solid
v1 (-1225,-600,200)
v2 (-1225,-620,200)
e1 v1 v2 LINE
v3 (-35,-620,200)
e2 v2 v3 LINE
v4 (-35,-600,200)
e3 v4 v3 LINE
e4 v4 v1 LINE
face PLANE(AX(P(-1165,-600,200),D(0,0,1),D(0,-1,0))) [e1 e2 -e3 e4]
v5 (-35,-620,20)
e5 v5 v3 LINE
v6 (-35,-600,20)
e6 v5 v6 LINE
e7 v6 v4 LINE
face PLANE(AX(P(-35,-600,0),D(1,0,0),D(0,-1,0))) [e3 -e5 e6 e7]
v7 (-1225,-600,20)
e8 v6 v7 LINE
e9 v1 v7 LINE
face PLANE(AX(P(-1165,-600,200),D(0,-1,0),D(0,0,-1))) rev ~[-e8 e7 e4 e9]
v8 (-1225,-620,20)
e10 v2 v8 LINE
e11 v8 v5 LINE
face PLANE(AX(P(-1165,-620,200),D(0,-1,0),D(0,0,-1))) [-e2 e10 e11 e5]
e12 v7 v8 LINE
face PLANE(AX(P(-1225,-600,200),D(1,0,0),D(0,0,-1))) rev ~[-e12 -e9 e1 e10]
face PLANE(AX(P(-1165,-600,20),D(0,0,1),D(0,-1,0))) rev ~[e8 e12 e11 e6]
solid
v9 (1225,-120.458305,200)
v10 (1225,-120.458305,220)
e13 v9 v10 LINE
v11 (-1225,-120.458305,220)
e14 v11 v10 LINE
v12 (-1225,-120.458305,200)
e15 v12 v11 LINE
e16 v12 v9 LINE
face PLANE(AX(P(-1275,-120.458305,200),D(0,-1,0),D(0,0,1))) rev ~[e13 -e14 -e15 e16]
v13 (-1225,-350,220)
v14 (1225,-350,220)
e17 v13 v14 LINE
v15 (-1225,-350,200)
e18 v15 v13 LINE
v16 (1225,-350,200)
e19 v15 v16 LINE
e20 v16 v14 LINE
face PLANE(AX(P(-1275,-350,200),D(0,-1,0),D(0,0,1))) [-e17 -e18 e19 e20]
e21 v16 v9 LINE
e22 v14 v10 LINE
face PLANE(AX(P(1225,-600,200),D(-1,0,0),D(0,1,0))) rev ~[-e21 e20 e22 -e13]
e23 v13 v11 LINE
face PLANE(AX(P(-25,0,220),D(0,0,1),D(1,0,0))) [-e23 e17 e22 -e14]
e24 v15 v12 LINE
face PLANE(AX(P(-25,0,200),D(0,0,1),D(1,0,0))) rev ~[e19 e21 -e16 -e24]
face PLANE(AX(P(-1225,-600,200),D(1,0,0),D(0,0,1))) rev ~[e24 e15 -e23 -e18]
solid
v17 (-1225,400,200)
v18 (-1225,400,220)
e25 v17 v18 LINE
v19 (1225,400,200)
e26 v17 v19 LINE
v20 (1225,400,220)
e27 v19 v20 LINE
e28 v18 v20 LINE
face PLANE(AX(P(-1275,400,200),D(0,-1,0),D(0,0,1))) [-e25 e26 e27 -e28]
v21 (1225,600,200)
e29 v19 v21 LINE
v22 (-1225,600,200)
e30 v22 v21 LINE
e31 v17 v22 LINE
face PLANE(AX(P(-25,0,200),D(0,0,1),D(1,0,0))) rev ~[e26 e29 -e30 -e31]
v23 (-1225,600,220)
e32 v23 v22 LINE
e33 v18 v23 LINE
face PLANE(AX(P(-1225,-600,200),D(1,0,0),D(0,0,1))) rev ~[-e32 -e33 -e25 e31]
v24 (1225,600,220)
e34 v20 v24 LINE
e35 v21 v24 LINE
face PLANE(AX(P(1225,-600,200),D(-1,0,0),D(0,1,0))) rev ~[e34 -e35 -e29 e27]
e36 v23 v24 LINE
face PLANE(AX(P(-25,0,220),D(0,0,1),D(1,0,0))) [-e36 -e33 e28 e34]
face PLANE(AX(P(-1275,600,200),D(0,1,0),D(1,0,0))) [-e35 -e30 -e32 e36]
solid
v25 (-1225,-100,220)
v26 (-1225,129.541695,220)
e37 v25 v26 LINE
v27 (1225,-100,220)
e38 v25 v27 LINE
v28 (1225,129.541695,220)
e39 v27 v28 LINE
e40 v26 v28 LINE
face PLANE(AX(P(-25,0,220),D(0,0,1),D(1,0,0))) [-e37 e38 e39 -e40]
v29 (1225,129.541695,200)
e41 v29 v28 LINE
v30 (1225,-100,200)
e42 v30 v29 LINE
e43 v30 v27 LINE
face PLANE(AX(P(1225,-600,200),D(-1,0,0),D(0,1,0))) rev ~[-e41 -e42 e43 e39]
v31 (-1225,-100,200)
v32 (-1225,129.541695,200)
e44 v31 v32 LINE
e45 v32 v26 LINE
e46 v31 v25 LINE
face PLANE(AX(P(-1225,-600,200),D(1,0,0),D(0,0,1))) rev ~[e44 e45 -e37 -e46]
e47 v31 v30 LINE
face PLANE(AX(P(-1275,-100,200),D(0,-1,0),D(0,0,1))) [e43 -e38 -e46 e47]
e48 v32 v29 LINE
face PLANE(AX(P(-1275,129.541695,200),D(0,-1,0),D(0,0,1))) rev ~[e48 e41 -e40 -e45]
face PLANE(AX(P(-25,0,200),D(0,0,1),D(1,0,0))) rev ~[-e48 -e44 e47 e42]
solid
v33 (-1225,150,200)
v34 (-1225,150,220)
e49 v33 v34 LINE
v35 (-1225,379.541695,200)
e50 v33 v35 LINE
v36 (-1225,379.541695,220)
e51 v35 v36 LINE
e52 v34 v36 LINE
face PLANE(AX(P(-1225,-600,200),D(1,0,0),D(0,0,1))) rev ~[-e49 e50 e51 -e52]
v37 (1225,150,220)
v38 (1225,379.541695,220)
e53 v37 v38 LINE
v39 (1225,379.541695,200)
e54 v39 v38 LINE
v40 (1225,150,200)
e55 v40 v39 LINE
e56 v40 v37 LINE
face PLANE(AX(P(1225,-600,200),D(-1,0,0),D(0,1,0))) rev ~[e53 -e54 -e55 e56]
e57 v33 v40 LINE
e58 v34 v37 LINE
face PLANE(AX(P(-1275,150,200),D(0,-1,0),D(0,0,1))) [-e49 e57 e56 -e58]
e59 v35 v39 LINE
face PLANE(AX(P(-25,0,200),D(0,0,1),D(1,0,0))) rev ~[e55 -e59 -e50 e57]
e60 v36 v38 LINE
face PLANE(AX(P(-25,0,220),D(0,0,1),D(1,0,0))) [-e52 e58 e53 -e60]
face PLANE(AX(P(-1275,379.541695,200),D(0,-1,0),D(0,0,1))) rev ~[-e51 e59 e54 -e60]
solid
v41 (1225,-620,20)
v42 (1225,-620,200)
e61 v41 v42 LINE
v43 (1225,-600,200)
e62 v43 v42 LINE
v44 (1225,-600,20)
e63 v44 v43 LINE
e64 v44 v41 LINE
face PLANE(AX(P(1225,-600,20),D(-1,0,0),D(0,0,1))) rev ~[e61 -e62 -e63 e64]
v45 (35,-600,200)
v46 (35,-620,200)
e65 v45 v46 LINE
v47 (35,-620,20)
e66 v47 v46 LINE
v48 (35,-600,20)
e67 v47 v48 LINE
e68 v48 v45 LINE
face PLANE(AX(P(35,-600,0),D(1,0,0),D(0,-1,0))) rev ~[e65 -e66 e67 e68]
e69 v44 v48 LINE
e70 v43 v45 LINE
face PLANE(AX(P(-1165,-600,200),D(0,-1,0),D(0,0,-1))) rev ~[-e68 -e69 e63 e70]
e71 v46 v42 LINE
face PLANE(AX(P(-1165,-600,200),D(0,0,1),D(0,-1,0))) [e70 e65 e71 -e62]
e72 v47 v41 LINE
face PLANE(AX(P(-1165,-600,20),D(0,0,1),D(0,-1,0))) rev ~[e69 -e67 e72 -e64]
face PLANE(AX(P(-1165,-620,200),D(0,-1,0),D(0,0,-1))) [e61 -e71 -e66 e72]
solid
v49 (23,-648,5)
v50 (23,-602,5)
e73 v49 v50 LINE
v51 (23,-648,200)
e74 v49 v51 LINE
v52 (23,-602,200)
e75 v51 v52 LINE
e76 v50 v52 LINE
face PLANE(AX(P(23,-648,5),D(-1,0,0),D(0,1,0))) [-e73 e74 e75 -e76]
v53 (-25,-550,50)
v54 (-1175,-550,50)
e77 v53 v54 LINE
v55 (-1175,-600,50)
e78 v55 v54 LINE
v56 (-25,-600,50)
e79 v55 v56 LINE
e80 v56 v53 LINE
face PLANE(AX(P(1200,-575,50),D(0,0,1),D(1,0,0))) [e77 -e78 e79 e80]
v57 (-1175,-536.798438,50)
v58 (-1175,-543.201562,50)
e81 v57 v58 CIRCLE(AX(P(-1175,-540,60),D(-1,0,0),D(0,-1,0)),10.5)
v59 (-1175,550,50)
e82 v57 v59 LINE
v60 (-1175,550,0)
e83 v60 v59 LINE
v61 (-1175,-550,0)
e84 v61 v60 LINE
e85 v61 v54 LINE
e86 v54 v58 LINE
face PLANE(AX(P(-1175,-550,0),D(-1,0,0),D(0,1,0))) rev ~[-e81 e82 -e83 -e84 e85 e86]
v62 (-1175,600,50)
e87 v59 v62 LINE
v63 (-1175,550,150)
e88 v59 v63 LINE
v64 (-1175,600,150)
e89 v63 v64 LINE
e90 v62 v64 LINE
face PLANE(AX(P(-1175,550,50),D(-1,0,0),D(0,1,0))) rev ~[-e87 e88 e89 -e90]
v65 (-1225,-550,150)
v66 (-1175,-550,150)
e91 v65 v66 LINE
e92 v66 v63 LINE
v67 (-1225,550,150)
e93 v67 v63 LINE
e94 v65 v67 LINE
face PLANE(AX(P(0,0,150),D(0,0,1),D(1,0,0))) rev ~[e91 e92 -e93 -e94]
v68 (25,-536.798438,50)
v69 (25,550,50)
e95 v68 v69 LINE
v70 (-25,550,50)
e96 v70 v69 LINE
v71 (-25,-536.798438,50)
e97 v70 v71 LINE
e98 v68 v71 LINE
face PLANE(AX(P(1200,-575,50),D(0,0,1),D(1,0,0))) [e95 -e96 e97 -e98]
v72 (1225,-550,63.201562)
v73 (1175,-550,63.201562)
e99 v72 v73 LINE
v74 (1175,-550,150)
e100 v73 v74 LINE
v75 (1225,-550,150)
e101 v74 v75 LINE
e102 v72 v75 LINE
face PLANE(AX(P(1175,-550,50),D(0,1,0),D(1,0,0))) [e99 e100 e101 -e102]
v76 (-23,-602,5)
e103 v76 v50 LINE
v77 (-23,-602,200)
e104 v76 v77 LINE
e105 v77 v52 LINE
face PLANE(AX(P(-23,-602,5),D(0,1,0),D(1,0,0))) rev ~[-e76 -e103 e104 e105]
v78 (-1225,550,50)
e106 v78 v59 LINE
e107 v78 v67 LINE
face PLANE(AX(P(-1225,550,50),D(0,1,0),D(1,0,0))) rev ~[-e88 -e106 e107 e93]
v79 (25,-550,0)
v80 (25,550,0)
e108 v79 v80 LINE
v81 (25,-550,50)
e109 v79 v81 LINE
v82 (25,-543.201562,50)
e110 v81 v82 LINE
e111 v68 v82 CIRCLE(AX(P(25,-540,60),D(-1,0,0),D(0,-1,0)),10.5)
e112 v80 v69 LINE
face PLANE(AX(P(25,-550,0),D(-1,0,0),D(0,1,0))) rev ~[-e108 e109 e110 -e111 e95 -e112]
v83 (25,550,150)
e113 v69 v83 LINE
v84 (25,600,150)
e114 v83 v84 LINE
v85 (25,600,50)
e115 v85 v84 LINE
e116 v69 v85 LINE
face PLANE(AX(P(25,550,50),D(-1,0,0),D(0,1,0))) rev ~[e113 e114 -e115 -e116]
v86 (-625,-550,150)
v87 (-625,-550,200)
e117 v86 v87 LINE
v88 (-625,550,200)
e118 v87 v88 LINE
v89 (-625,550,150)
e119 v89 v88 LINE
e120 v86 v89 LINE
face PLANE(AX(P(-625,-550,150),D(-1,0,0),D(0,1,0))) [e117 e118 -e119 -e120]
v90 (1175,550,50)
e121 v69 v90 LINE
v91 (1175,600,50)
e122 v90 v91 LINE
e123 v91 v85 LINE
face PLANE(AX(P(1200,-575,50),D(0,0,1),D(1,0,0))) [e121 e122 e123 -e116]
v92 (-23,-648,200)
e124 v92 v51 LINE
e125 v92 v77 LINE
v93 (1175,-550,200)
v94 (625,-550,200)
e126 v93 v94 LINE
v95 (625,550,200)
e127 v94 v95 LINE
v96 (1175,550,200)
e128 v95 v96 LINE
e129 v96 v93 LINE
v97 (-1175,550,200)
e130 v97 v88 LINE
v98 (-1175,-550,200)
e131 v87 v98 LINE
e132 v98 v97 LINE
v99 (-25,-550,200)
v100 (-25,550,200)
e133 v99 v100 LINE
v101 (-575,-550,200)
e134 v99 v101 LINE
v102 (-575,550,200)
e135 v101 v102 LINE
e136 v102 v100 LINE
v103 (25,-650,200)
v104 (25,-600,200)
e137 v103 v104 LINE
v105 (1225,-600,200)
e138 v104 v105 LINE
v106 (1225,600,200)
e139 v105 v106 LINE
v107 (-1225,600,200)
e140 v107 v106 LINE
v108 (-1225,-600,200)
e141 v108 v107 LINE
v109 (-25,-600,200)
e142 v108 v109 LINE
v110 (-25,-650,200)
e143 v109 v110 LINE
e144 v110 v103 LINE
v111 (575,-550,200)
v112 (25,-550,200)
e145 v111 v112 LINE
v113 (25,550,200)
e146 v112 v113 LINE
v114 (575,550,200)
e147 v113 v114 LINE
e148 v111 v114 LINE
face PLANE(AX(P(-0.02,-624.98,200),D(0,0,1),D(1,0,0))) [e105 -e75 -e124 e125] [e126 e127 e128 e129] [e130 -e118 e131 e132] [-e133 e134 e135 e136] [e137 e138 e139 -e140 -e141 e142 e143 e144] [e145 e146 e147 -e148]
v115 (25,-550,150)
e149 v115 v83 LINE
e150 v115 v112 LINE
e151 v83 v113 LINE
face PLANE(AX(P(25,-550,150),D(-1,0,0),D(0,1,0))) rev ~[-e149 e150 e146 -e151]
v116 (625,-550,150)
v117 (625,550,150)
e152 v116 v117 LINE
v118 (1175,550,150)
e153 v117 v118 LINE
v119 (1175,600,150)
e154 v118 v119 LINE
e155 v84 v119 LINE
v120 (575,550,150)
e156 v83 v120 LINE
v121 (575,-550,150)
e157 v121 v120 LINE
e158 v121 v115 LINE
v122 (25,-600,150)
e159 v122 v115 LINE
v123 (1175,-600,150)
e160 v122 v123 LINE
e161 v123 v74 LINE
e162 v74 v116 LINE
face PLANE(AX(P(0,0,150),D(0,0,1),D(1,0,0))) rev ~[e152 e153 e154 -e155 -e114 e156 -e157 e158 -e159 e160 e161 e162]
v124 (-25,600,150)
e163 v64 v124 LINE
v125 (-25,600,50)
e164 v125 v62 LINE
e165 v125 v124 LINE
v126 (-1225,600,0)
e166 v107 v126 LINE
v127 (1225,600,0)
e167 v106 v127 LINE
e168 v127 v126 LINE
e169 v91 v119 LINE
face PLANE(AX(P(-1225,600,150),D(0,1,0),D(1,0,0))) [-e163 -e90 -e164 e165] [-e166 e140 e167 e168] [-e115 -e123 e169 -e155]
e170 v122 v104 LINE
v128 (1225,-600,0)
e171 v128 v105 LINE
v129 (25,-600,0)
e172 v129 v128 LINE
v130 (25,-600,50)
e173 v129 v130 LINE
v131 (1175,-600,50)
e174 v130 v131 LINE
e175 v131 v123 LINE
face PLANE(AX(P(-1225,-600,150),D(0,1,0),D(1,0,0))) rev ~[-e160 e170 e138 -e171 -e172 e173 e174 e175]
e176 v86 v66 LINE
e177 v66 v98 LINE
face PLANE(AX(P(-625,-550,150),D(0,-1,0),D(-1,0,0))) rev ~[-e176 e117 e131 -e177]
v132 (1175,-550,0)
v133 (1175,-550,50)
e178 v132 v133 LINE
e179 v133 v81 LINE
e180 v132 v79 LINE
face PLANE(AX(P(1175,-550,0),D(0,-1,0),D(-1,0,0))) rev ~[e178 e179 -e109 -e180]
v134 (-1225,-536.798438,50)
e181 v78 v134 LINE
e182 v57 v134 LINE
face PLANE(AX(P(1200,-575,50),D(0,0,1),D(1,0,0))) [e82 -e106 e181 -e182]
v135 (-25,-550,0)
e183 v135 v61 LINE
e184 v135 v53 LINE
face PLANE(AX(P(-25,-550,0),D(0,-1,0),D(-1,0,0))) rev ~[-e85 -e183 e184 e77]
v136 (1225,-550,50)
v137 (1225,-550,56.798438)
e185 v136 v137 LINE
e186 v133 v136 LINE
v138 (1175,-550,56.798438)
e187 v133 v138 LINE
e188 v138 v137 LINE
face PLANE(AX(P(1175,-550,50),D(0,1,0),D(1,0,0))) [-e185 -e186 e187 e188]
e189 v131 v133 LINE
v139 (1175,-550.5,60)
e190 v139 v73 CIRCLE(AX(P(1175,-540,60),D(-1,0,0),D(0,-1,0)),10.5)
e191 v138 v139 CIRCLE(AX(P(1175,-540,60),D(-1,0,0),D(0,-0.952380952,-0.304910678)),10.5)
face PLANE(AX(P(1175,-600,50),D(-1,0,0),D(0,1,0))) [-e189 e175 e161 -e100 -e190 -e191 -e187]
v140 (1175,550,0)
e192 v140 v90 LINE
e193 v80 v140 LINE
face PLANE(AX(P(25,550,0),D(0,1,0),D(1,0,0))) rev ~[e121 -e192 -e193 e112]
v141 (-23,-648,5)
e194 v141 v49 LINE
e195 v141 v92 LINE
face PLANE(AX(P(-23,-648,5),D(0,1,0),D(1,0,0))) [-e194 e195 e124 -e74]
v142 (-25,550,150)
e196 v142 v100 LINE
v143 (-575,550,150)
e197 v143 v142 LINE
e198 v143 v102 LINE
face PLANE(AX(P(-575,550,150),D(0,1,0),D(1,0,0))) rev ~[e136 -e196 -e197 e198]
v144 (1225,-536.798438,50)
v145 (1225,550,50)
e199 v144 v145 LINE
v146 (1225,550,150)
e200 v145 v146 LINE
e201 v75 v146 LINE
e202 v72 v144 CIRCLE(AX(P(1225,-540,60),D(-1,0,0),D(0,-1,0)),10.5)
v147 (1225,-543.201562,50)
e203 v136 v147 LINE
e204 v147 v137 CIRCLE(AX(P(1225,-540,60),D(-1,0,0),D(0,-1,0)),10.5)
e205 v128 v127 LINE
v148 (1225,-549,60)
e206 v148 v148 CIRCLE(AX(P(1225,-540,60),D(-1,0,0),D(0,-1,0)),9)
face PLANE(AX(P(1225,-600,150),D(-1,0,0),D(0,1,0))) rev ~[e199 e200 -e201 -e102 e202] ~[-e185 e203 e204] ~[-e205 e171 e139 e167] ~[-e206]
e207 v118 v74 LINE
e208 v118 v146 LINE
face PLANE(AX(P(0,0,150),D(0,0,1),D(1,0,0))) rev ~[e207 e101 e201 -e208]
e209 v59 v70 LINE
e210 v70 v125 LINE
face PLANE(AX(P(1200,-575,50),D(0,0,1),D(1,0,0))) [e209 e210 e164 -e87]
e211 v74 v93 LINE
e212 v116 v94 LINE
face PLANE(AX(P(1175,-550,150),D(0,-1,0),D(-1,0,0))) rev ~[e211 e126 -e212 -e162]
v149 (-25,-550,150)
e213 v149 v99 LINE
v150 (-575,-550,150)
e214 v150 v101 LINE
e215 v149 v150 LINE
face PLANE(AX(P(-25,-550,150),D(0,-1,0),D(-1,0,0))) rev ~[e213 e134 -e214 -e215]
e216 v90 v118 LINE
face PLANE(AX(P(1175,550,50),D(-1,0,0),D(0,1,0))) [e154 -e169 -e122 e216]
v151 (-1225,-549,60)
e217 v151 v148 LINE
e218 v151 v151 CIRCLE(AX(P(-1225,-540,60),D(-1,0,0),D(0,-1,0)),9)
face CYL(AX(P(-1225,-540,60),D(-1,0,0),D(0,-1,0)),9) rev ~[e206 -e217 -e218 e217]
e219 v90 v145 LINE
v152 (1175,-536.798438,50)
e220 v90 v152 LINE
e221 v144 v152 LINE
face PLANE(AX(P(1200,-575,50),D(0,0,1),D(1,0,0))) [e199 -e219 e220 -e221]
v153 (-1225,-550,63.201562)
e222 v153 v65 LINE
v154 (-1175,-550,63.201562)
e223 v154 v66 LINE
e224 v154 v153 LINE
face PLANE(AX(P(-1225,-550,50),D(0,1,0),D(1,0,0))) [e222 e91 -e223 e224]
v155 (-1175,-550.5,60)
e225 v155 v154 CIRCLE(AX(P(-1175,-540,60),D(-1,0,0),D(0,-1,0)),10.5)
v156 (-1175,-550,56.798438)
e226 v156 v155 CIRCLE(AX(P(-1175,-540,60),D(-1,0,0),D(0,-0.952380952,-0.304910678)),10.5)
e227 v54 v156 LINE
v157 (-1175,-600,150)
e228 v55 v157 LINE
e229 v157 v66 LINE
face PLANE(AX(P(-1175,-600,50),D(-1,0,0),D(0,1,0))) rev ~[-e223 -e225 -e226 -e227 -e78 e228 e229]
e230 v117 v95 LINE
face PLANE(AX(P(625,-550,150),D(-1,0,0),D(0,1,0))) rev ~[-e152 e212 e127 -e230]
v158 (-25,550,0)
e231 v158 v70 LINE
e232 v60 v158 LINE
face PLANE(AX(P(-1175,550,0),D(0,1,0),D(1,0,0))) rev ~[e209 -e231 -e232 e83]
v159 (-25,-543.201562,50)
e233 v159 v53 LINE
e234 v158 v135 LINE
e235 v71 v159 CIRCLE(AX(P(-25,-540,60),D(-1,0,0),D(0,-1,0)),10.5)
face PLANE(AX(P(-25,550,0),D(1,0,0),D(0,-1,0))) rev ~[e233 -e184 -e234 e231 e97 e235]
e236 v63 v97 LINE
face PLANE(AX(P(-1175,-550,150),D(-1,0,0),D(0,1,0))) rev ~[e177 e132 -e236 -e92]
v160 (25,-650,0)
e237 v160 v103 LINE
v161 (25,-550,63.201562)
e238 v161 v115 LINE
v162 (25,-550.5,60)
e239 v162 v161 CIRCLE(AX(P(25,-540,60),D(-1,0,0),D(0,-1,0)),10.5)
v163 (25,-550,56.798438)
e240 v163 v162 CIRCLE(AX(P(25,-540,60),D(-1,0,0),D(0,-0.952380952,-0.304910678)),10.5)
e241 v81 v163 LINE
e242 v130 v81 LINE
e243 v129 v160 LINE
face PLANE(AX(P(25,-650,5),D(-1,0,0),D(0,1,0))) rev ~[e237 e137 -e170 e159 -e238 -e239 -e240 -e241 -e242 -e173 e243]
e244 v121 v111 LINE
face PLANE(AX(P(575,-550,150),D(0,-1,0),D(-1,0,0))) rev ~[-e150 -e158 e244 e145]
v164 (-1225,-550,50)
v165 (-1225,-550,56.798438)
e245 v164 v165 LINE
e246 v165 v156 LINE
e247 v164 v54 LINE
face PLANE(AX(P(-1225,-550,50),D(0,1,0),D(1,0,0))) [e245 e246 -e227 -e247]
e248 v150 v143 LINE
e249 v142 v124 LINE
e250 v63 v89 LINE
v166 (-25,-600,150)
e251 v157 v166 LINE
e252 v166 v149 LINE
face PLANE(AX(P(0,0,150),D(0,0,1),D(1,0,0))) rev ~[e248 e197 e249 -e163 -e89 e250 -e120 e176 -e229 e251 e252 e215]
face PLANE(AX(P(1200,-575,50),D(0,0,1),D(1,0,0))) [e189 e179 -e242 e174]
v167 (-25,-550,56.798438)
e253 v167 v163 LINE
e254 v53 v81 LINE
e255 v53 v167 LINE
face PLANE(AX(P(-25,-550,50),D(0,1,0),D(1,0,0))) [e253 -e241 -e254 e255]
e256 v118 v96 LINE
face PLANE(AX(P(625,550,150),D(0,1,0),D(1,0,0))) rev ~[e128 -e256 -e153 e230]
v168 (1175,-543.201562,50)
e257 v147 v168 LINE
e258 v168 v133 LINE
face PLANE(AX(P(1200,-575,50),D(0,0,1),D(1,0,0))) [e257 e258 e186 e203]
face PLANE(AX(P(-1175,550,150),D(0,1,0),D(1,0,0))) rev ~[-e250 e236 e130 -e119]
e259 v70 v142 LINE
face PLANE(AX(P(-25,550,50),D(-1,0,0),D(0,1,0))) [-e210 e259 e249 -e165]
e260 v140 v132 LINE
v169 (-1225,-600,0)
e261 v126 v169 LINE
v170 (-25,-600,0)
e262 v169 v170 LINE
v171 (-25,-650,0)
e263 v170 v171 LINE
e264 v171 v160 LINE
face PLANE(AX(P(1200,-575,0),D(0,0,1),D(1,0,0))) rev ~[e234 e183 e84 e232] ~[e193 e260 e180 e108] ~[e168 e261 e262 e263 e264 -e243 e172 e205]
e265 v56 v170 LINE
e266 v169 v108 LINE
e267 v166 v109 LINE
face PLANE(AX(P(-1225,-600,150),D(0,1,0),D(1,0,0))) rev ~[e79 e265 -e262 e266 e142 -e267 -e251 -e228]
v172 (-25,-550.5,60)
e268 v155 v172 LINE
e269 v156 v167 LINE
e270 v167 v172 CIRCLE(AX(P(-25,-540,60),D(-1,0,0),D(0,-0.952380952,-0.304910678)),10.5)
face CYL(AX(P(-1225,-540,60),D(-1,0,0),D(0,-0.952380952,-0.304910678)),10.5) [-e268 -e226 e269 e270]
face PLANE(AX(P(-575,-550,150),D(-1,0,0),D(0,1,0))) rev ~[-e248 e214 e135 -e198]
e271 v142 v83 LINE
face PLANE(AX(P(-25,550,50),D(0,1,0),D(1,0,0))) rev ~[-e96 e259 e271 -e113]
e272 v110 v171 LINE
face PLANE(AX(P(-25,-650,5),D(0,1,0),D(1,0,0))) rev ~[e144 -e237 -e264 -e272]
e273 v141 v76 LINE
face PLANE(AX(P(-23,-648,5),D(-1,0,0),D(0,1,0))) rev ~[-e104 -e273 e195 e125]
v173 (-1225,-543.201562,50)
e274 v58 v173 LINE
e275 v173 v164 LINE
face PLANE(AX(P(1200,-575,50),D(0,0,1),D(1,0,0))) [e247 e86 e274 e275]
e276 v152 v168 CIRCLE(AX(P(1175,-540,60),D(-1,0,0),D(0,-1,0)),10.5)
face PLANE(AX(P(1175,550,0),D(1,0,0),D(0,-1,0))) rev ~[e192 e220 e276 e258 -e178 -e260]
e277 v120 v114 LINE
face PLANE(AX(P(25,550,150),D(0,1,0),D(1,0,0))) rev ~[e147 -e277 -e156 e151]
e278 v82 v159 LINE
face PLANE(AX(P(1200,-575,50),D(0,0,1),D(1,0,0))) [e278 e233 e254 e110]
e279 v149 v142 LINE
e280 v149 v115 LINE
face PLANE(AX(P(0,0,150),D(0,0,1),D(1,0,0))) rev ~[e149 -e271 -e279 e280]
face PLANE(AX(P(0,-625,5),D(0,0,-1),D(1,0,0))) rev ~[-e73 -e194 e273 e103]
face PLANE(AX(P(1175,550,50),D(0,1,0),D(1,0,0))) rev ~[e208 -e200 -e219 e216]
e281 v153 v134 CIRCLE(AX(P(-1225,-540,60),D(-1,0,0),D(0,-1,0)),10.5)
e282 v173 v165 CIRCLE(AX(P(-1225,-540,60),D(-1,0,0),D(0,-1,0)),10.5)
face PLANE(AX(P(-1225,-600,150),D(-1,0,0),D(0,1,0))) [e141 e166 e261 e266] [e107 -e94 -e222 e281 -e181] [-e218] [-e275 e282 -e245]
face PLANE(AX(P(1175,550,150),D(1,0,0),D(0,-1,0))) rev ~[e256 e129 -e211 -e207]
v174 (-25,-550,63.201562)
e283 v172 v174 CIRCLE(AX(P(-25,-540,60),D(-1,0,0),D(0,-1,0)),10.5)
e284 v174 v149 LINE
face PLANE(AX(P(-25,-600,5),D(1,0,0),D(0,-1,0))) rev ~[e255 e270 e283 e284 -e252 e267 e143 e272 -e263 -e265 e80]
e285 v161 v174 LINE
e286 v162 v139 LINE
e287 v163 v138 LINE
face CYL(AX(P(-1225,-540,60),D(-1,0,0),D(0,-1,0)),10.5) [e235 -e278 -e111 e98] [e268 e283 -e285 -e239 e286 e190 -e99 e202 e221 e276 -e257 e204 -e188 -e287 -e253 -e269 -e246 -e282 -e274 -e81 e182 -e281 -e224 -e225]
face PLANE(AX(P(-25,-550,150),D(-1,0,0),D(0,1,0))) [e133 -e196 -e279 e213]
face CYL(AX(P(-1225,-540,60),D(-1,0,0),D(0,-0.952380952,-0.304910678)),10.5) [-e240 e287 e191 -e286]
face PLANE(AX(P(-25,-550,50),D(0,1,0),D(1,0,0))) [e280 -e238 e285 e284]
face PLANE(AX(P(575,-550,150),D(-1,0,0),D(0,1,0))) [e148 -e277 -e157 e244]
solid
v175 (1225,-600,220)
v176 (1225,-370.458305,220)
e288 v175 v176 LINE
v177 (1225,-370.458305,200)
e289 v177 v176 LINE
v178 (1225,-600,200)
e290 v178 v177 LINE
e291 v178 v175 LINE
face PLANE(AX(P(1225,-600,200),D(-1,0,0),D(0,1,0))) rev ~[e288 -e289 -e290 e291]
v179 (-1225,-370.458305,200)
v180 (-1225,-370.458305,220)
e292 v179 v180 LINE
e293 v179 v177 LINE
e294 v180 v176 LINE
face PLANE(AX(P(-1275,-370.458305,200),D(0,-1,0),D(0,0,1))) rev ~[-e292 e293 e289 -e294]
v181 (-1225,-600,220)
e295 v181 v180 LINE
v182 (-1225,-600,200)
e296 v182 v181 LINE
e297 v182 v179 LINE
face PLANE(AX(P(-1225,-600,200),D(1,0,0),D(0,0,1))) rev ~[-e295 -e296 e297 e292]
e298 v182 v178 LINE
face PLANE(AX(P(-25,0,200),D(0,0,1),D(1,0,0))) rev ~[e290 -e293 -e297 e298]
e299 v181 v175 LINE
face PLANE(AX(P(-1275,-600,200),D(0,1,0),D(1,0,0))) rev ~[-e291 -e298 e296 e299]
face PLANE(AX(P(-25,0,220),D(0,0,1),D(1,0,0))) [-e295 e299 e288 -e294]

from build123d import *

# Parameters (mm, degrees)
F0_W      = 50
F0_H      = 50
F0_H_2    = 1100
F1_DEPTH  = 50
F2_W      = 50
F2_H      = 50
F3_DEPTH  = 100
F4_W      = 2450
F4_H      = 1200
F4_W_2    = 25
F4_H_2    = 1100
F4_W_3    = 50
F5_DEPTH  = 50
F6_R      = 9
F7_DEPTH  = 2450
F9_DEPTH  = 20
F10_W     = 2500
F10_H     = 1200
F11_DEPTH = 20
F12_DEPTH = 110
F13_W     = 20.458304882
F13_H     = 20
F14_DEPTH = 2500
F15_DEPTH = 60
F17_W     = 50
F17_H     = 20
F18_DEPTH = 1200.001
F19_W     = 50
F19_H     = 50
F19_W_2   = 10
F20_DEPTH = 200
F21_W     = 50
F21_H     = 50
F22_DEPTH = 5
F23_W     = 46
F23_H     = 46
F23_W_2   = 2
F23_H_2   = 2
F24_DEPTH = 195


with BuildPart() as f1:
    # F0 (on Top) → F1 (new body)
    with BuildSketch(Plane.XY):
        with Locations((1200, -575)):
            Rectangle(F0_W, F0_H)
        Polygon((-1175, -600), (1175, -600), (1175, -550), (25, -550), (0, -550), (-25, -550), (-1175, -550), align=None)
        with Locations((1200, 0)):
            Rectangle(F0_W, F0_H_2)
        with Locations((-1200, -575)):
            Rectangle(F0_W, F0_H)
        with Locations((1200, 575)):
            Rectangle(F0_W, F0_H)
        with Locations((-1200, 0)):
            Rectangle(F0_W, F0_H_2)
        Polygon((25, 550), (1175, 550), (1175, 600), (-1175, 600), (-1175, 550), (-25, 550), (0, 550), align=None)
        with Locations((-1200, 575)):
            Rectangle(F0_W, F0_H)
        Polygon((0, -550), (25, -550), (25, 0), (25, 550), (0, 550), (0, 0), align=None)
        Polygon((-25, 0), (-25, -550), (0, -550), (0, 0), (0, 550), (-25, 550), align=None)
    extrude(amount=F1_DEPTH)

    # F2 (on face) → F3 (join)
    with BuildSketch(Plane.XY.offset(50)):
        with Locations((0, 575)):
            Rectangle(F2_W, F2_H)
        with Locations((-1200, 575)):
            Rectangle(F2_W, F2_H)
        with Locations((-1200, -575)):
            Rectangle(F2_W, F2_H)
        with Locations((0, -575)):
            Rectangle(F2_W, F2_H)
        with Locations((1200, -575)):
            Rectangle(F2_W, F2_H)
        with Locations((1200, 575)):
            Rectangle(F2_W, F2_H)
    extrude(amount=F3_DEPTH)

    # F4 (on face) → F5 (join)
    with BuildSketch(Plane.XY.offset(150)):
        Rectangle(F4_W, F4_H)
        Polygon((1175, 550), (1175, -550), (625, -550), (600, -550), (575, -550), (25, -550), (-25, -550), (-575, -550), (-600, -550), (-625, -550), (-1175, -550), (-1175, 550), (-625, 550), (-600, 550), (-575, 550), (-25, 550), (25, 550), (575, 550), (600, 550), (625, 550), align=None, mode=Mode.SUBTRACT)
        with Locations((-587.5, 0)):
            Rectangle(F4_W_2, F4_H_2)
        with Locations((-612.5, 0)):
            Rectangle(F4_W_2, F4_H_2)
        with Locations((612.5, 0)):
            Rectangle(F4_W_2, F4_H_2)
        with Locations((587.5, 0)):
            Rectangle(F4_W_2, F4_H_2)
        Rectangle(F4_W_3, F4_H_2)
    extrude(amount=F5_DEPTH)

    # F6 (on face) → F7 (join)
    with BuildSketch(Plane(origin=(-1225, 0, 0), x_dir=(0, -1, 0), z_dir=(-1, 0, 0))):
        with BuildLine():
            ThreePointArc((550.5, 60), (529.6257530394, 61.6201851746), (550, 56.7984378813))
            ThreePointArc((550, 56.7984378813), (550.3742469606, 58.3798148254), (550.5, 60))
        make_face()
        with Locations((540, 60)):
            Circle(F6_R, mode=Mode.SUBTRACT)
    extrude(amount=-F7_DEPTH)

    # F21 (on face) → F22 (join)
    with BuildSketch(Plane(origin=(0, 0, 0), x_dir=(1, 0, 0), z_dir=(0, 0, -1))):
        with Locations((0, 625)):
            Rectangle(F21_W, F21_H)
    extrude(amount=-F22_DEPTH)

    # F23 (on face) → F24 (join, through all)
    with BuildSketch(Plane.XY.offset(5)):
        Polygon((25, -600), (-25, -600), (-25, -650), (23, -650), (23, -648), (25, -648), align=None)
        with Locations((0, -625)):
            Rectangle(F23_W, F23_H, mode=Mode.SUBTRACT)
        with Locations((24, -649)):
            Rectangle(F23_W_2, F23_H_2)
    extrude(amount=F24_DEPTH)


with BuildPart() as f9:
    # F8 (on face) → F9 (new body)
    with BuildSketch(Plane.XZ.offset(600)):
        Polygon((1225, 20), (1225, 200), (-1225, 200), (-1275, 200), (-1275, 20), align=None)
    extrude(amount=F9_DEPTH)

    # F12 (cut): a face of the model
    f12_faces = [f9.faces().sort_by_distance(p)[0] for p in [
        (-1275, -610, 110),
    ]]
    extrude(f12_faces, amount=-F12_DEPTH, mode=Mode.SUBTRACT)


with BuildPart() as f11:
    # F10 (on face) → F11 (new body)
    with BuildSketch(Plane.XY.offset(200)):
        with Locations((-25, 0)):
            Rectangle(F10_W, F10_H)
    extrude(amount=F11_DEPTH)

    # F13 (on face) → F14 (cut, through all)
    with BuildSketch(Plane(origin=(-1275, 0, 0), x_dir=(0, -1, 0), z_dir=(-1, 0, 0))):
        with Locations((610.229152441, 210)):
            Rectangle(F13_W, F13_H)
        with Locations((360.229152441, 210)):
            Rectangle(F13_W, F13_H)
        with Locations((110.229152441, 210)):
            Rectangle(F13_W, F13_H)
        with Locations((-139.770847559, 210)):
            Rectangle(F13_W, F13_H)
        with Locations((-389.770847559, 210)):
            Rectangle(F13_W, F13_H)
    extrude(amount=-F14_DEPTH, mode=Mode.SUBTRACT)

    # F17 (on face) → F18 (cut, through all)
    with BuildSketch(Plane.XZ.offset(600)):
        with Locations((-1250, 210)):
            Rectangle(F17_W, F17_H)
    extrude(amount=-F18_DEPTH, mode=Mode.SUBTRACT)


with BuildPart() as f15:
    # F15 (new, through all): a face of the model
    f15_faces = [f9.part.faces().sort_by_distance(p)[0] for p in [
        (-1165, -610, 110),
    ]]
    extrude(f15_faces, amount=F15_DEPTH)


with BuildPart() as f9_1:
    add(f9.part)

    # F16: union F15
    add(f15.part)

    # F19 (on face) → F20 (cut, through all)
    with BuildSketch(Plane(origin=(0, 0, 0), x_dir=(1, 0, 0), z_dir=(0, 0, -1))):
        with Locations((0, 625)):
            Rectangle(F19_W, F19_H)
        with Locations((-30, 625)):
            Rectangle(F19_W_2, F19_H)
        with Locations((30, 625)):
            Rectangle(F19_W_2, F19_H)
    extrude(amount=-F20_DEPTH, mode=Mode.SUBTRACT)


solid = Compound([f1.part, f11.part, f9_1.part])
